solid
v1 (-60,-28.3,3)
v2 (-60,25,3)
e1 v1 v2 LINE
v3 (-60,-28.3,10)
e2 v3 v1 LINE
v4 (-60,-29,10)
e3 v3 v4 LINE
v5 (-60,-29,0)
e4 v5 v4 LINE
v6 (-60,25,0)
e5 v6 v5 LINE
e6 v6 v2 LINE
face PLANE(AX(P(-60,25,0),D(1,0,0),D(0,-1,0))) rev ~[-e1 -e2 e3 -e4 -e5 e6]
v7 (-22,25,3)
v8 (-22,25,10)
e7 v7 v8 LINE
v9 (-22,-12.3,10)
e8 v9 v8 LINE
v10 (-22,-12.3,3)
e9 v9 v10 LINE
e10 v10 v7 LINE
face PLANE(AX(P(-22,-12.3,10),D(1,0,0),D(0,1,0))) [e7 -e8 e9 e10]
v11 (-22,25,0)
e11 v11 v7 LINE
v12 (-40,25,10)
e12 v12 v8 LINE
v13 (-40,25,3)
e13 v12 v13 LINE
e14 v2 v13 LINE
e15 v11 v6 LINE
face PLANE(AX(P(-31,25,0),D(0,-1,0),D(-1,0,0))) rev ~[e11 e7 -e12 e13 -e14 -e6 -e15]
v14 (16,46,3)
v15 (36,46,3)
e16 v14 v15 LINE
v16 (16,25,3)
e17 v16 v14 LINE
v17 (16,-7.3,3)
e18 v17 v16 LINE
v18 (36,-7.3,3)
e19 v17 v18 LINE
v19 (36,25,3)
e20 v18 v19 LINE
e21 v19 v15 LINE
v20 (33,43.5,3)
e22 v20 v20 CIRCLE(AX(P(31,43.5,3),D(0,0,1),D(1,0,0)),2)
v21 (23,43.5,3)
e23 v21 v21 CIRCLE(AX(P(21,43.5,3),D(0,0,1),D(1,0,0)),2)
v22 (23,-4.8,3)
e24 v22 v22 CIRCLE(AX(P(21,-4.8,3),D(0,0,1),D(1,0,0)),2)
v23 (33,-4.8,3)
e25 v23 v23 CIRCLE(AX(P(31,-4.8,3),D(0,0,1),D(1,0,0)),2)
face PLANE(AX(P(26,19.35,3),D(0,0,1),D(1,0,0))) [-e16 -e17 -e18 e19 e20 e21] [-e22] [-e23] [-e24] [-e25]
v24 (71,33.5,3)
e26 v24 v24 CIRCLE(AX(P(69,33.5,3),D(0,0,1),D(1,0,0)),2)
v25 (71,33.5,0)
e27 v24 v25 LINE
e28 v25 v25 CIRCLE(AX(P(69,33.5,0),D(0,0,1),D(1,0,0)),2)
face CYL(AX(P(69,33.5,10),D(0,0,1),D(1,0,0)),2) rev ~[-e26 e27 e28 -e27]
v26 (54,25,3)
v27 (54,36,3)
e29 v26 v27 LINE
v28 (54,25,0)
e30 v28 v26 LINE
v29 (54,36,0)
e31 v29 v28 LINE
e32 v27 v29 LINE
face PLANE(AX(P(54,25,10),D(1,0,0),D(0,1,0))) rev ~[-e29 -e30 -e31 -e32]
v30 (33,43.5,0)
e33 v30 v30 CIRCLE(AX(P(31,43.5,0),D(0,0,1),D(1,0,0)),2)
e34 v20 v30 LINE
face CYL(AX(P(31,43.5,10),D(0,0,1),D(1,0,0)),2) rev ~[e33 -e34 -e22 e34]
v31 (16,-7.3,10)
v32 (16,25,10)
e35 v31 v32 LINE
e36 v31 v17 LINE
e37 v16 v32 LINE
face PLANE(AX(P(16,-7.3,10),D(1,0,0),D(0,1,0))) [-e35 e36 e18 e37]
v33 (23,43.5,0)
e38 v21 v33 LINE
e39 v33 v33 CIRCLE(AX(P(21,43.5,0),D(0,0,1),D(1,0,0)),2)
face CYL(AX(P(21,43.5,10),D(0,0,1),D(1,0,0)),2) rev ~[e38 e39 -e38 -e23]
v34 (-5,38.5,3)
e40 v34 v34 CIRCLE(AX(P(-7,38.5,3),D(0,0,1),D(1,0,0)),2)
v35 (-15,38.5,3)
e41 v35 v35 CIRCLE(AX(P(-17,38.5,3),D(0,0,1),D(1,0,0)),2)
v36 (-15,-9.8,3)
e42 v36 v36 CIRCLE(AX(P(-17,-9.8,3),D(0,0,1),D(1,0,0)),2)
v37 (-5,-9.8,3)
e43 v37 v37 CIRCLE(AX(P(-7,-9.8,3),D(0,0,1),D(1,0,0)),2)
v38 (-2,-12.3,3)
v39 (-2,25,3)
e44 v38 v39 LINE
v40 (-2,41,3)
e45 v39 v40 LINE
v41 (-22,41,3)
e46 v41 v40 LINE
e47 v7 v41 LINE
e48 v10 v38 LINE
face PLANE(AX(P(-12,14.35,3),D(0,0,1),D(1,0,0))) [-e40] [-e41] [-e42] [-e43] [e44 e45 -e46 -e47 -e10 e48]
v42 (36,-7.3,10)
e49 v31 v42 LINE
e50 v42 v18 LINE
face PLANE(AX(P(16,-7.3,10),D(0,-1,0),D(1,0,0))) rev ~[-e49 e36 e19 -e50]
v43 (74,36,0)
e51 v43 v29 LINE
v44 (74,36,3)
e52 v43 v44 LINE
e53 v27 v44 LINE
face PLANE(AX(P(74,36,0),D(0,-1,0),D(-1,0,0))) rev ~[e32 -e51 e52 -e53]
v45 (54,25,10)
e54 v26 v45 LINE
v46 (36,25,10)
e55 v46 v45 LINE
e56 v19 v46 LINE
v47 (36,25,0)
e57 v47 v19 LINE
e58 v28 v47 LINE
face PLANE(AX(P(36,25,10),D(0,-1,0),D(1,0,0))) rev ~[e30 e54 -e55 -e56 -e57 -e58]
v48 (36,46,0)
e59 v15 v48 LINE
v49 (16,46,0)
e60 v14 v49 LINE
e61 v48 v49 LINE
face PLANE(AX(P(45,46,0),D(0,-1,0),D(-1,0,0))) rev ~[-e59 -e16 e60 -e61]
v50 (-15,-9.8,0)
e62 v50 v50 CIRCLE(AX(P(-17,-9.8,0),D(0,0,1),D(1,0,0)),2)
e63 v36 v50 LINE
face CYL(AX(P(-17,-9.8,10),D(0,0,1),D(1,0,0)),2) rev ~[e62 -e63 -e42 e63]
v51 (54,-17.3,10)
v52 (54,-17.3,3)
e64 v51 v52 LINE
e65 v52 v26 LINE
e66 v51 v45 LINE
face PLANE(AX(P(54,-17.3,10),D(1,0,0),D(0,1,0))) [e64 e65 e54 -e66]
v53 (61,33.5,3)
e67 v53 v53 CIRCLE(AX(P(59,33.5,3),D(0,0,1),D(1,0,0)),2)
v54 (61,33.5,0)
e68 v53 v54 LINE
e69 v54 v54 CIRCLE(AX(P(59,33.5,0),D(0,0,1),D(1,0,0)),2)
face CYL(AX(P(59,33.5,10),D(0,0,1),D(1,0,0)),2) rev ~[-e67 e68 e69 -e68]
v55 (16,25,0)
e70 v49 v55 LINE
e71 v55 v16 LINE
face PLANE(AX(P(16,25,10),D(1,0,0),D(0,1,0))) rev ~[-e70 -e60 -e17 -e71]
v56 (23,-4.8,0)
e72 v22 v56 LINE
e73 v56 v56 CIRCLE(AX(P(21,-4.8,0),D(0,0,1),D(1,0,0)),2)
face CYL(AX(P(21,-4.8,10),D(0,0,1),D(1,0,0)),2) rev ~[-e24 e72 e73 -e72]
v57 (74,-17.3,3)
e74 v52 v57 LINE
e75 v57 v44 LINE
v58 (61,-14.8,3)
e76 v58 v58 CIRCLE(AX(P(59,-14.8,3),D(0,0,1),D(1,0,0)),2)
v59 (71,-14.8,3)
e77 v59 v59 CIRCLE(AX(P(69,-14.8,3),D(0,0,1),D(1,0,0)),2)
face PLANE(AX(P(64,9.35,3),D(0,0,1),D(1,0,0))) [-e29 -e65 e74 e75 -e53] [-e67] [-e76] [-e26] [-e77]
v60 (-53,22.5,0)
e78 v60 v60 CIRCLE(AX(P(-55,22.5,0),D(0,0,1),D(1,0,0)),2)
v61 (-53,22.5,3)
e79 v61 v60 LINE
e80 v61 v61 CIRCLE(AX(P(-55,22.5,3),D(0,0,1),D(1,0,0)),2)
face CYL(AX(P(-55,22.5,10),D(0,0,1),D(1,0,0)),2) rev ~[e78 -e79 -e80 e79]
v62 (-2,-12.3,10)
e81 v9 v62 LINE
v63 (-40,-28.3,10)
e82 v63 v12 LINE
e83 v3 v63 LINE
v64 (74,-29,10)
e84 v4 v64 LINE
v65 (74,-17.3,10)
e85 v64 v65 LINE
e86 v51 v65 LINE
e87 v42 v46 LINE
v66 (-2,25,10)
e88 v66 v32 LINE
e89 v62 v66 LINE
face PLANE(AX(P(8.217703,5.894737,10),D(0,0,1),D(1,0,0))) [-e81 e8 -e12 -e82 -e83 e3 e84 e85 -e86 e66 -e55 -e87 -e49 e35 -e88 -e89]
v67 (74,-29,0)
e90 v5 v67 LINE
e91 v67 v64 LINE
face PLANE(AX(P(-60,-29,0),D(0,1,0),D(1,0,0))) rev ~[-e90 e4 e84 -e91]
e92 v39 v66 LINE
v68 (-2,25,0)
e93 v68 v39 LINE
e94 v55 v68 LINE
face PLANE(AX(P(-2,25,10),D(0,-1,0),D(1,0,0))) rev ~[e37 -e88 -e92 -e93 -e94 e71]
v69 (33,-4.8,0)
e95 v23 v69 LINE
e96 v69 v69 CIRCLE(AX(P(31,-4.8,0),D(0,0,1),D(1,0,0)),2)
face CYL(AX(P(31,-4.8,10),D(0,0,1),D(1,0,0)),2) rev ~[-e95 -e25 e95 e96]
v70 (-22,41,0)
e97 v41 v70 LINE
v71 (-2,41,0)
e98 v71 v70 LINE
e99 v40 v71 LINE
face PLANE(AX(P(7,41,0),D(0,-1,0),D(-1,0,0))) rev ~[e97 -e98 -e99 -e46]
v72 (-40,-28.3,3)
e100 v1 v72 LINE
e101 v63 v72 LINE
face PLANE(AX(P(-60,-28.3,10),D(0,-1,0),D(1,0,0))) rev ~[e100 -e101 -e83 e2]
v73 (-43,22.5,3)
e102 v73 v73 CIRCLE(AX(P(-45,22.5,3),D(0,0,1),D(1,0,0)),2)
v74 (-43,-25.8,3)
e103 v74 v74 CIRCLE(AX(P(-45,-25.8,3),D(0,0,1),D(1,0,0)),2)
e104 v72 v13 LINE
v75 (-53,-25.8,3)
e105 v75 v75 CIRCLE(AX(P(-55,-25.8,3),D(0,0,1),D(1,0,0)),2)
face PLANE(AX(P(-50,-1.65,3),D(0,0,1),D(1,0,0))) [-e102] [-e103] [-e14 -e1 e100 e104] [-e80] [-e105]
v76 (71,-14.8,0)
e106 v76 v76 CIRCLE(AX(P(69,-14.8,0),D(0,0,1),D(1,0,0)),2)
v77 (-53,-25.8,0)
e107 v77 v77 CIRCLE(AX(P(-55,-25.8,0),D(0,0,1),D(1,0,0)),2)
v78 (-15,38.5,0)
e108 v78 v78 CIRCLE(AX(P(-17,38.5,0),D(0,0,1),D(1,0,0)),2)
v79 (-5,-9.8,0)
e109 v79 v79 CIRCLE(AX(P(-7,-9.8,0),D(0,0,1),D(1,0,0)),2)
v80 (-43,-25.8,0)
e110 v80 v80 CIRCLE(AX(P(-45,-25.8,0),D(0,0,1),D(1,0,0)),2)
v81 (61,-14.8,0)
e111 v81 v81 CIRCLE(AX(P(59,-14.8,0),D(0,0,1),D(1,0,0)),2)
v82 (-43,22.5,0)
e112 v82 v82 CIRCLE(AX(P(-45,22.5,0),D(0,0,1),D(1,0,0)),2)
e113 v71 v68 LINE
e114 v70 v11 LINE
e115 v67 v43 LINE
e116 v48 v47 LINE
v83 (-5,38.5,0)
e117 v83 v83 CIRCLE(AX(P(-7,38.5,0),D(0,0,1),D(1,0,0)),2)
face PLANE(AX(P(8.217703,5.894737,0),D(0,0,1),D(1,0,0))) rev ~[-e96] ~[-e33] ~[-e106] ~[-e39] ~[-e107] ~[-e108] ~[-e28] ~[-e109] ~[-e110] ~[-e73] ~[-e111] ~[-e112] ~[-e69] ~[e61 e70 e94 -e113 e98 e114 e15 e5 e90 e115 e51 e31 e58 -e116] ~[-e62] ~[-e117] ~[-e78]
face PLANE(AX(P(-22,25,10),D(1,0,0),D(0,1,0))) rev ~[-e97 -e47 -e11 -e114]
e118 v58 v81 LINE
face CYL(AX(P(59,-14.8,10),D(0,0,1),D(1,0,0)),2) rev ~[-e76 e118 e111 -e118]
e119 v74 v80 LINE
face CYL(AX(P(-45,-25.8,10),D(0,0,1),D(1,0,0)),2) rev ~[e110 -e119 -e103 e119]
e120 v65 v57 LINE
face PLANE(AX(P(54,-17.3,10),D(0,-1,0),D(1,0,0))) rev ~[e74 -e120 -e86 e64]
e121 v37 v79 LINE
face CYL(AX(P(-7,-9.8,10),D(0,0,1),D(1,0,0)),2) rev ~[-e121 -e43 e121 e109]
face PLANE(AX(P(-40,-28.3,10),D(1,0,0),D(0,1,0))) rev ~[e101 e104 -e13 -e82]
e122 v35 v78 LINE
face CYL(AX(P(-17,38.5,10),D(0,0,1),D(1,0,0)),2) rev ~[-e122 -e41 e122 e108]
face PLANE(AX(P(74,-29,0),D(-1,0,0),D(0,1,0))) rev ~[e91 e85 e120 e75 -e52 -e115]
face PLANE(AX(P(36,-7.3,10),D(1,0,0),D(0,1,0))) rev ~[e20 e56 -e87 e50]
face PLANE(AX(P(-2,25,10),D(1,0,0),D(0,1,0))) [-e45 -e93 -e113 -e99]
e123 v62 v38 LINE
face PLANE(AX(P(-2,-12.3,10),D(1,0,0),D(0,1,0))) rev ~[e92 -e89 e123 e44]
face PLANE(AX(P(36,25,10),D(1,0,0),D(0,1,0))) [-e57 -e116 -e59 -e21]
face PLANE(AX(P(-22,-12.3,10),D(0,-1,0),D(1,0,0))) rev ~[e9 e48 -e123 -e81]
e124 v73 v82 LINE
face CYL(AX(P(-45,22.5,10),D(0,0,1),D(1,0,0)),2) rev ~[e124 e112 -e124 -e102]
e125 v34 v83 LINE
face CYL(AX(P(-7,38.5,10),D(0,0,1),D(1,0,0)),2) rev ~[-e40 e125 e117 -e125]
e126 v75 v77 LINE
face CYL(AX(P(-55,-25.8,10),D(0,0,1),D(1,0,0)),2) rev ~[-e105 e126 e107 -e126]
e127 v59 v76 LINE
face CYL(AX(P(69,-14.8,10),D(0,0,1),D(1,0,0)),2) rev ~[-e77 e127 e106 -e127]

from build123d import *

# Parameters (mm, degrees)
BOSS_EXTRUDE1_DEPTH = 10
CUT_EXTRUDE1_REACH  = 89.704
SKETCH3_R           = 2
SKETCH3_11_W        = 20
SKETCH3_11_H        = 53.3
SKETCH3_11_R        = 2
CUT_EXTRUDE2_DEPTH  = 7
CUT_EXTRUDE3_REACH  = 89.704
SKETCH4_W           = 9
SKETCH4_H           = 16.003442502
SKETCH4_W_2         = 18
SKETCH4_H_2         = 21
SKETCH4_H_3         = 21.24342545


with BuildPart() as part:
    # Sketch1 → Boss-Extrude1 (new body)
    with BuildSketch(Plane.XY):
        Polygon((-31, 25), (-60, 25), (-60, -29), (74, -29), (74, 36), (45, 36), (45, 46), (7, 46), (7, 41), (-31, 41), align=None)
    extrude(amount=BOSS_EXTRUDE1_DEPTH)

    # Sketch3 → Cut-Extrude1 (cut, up to next)
    with BuildSketch(Plane.XY.offset(10), mode=Mode.PRIVATE) as cut_extrude1_sk1:
        with Locations((-55, 22.5)):
            Circle(SKETCH3_R)
    cut_extrude1_tool1 = extrude(cut_extrude1_sk1.sketch, amount=-CUT_EXTRUDE1_REACH, mode=Mode.PRIVATE) & part.part
    # Sketch3 → Cut-Extrude1 (cut, up to next)
    with BuildSketch(Plane.XY.offset(10), mode=Mode.PRIVATE) as cut_extrude1_sk2:
        with Locations((-17, 38.5)):
            Circle(SKETCH3_R)
    cut_extrude1_tool2 = extrude(cut_extrude1_sk2.sketch, amount=-CUT_EXTRUDE1_REACH, mode=Mode.PRIVATE) & part.part
    # Sketch3 → Cut-Extrude1 (cut, up to next)
    with BuildSketch(Plane.XY.offset(10), mode=Mode.PRIVATE) as cut_extrude1_sk3:
        with Locations((21, 43.5)):
            Circle(SKETCH3_R)
    cut_extrude1_tool3 = extrude(cut_extrude1_sk3.sketch, amount=-CUT_EXTRUDE1_REACH, mode=Mode.PRIVATE) & part.part
    # Sketch3 → Cut-Extrude1 (cut, up to next)
    with BuildSketch(Plane.XY.offset(10), mode=Mode.PRIVATE) as cut_extrude1_sk4:
        with Locations((59, 33.5)):
            Circle(SKETCH3_R)
    cut_extrude1_tool4 = extrude(cut_extrude1_sk4.sketch, amount=-CUT_EXTRUDE1_REACH, mode=Mode.PRIVATE) & part.part
    # Sketch3 → Cut-Extrude1 (cut, up to next)
    with BuildSketch(Plane.XY.offset(10), mode=Mode.PRIVATE) as cut_extrude1_sk5:
        with Locations((-45, 22.5)):
            Circle(SKETCH3_R)
    cut_extrude1_tool5 = extrude(cut_extrude1_sk5.sketch, amount=-CUT_EXTRUDE1_REACH, mode=Mode.PRIVATE) & part.part
    # Sketch3 → Cut-Extrude1 (cut, up to next)
    with BuildSketch(Plane.XY.offset(10), mode=Mode.PRIVATE) as cut_extrude1_sk6:
        with Locations((-45, -25.8)):
            Circle(SKETCH3_R)
    cut_extrude1_tool6 = extrude(cut_extrude1_sk6.sketch, amount=-CUT_EXTRUDE1_REACH, mode=Mode.PRIVATE) & part.part
    # Sketch3 → Cut-Extrude1 (cut, up to next)
    with BuildSketch(Plane.XY.offset(10), mode=Mode.PRIVATE) as cut_extrude1_sk7:
        with Locations((-55, -25.8)):
            Circle(SKETCH3_R)
    cut_extrude1_tool7 = extrude(cut_extrude1_sk7.sketch, amount=-CUT_EXTRUDE1_REACH, mode=Mode.PRIVATE) & part.part
    # Sketch3 → Cut-Extrude1 (cut, up to next)
    with BuildSketch(Plane.XY.offset(10), mode=Mode.PRIVATE) as cut_extrude1_sk8:
        with Locations((-7, 38.5)):
            Circle(SKETCH3_R)
    cut_extrude1_tool8 = extrude(cut_extrude1_sk8.sketch, amount=-CUT_EXTRUDE1_REACH, mode=Mode.PRIVATE) & part.part
    # Sketch3 → Cut-Extrude1 (cut, up to next)
    with BuildSketch(Plane.XY.offset(10), mode=Mode.PRIVATE) as cut_extrude1_sk9:
        with Locations((-7, -9.8)):
            Circle(SKETCH3_R)
    cut_extrude1_tool9 = extrude(cut_extrude1_sk9.sketch, amount=-CUT_EXTRUDE1_REACH, mode=Mode.PRIVATE) & part.part
    # Sketch3 → Cut-Extrude1 (cut, up to next)
    with BuildSketch(Plane.XY.offset(10), mode=Mode.PRIVATE) as cut_extrude1_sk10:
        with Locations((-17, -9.8)):
            Circle(SKETCH3_R)
    cut_extrude1_tool10 = extrude(cut_extrude1_sk10.sketch, amount=-CUT_EXTRUDE1_REACH, mode=Mode.PRIVATE) & part.part
    # Sketch3 → Cut-Extrude1 (cut, up to next)
    with BuildSketch(Plane.XY.offset(10), mode=Mode.PRIVATE) as cut_extrude1_sk11:
        with Locations((31, 43.5)):
            Circle(SKETCH3_R)
    cut_extrude1_tool11 = extrude(cut_extrude1_sk11.sketch, amount=-CUT_EXTRUDE1_REACH, mode=Mode.PRIVATE) & part.part
    # Sketch3 → Cut-Extrude1 (cut, up to next)
    with BuildSketch(Plane.XY.offset(10), mode=Mode.PRIVATE) as cut_extrude1_sk12:
        with Locations((31, -4.8)):
            Circle(SKETCH3_R)
    cut_extrude1_tool12 = extrude(cut_extrude1_sk12.sketch, amount=-CUT_EXTRUDE1_REACH, mode=Mode.PRIVATE) & part.part
    # Sketch3 → Cut-Extrude1 (cut, up to next)
    with BuildSketch(Plane.XY.offset(10), mode=Mode.PRIVATE) as cut_extrude1_sk13:
        with Locations((21, -4.8)):
            Circle(SKETCH3_R)
    cut_extrude1_tool13 = extrude(cut_extrude1_sk13.sketch, amount=-CUT_EXTRUDE1_REACH, mode=Mode.PRIVATE) & part.part
    # Sketch3 → Cut-Extrude1 (cut, up to next)
    with BuildSketch(Plane.XY.offset(10), mode=Mode.PRIVATE) as cut_extrude1_sk14:
        with Locations((69, 33.5)):
            Circle(SKETCH3_R)
    cut_extrude1_tool14 = extrude(cut_extrude1_sk14.sketch, amount=-CUT_EXTRUDE1_REACH, mode=Mode.PRIVATE) & part.part
    # Sketch3 → Cut-Extrude1 (cut, up to next)
    with BuildSketch(Plane.XY.offset(10), mode=Mode.PRIVATE) as cut_extrude1_sk15:
        with Locations((69, -14.8)):
            Circle(SKETCH3_R)
    cut_extrude1_tool15 = extrude(cut_extrude1_sk15.sketch, amount=-CUT_EXTRUDE1_REACH, mode=Mode.PRIVATE) & part.part
    # Sketch3 → Cut-Extrude1 (cut, up to next)
    with BuildSketch(Plane.XY.offset(10), mode=Mode.PRIVATE) as cut_extrude1_sk16:
        with Locations((59, -14.8)):
            Circle(SKETCH3_R)
    cut_extrude1_tool16 = extrude(cut_extrude1_sk16.sketch, amount=-CUT_EXTRUDE1_REACH, mode=Mode.PRIVATE) & part.part
    add(cut_extrude1_tool1.solids().sort_by_distance((-55, 22.5, 10))[0], mode=Mode.SUBTRACT)
    add(cut_extrude1_tool2.solids().sort_by_distance((-17, 38.5, 10))[0], mode=Mode.SUBTRACT)
    add(cut_extrude1_tool3.solids().sort_by_distance((21, 43.5, 10))[0], mode=Mode.SUBTRACT)
    add(cut_extrude1_tool4.solids().sort_by_distance((59, 33.5, 10))[0], mode=Mode.SUBTRACT)
    add(cut_extrude1_tool5.solids().sort_by_distance((-45, 22.5, 10))[0], mode=Mode.SUBTRACT)
    add(cut_extrude1_tool6.solids().sort_by_distance((-45, -25.8, 10))[0], mode=Mode.SUBTRACT)
    add(cut_extrude1_tool7.solids().sort_by_distance((-55, -25.8, 10))[0], mode=Mode.SUBTRACT)
    add(cut_extrude1_tool8.solids().sort_by_distance((-7, 38.5, 10))[0], mode=Mode.SUBTRACT)
    add(cut_extrude1_tool9.solids().sort_by_distance((-7, -9.8, 10))[0], mode=Mode.SUBTRACT)
    add(cut_extrude1_tool10.solids().sort_by_distance((-17, -9.8, 10))[0], mode=Mode.SUBTRACT)
    add(cut_extrude1_tool11.solids().sort_by_distance((31, 43.5, 10))[0], mode=Mode.SUBTRACT)
    add(cut_extrude1_tool12.solids().sort_by_distance((31, -4.8, 10))[0], mode=Mode.SUBTRACT)
    add(cut_extrude1_tool13.solids().sort_by_distance((21, -4.8, 10))[0], mode=Mode.SUBTRACT)
    add(cut_extrude1_tool14.solids().sort_by_distance((69, 33.5, 10))[0], mode=Mode.SUBTRACT)
    add(cut_extrude1_tool15.solids().sort_by_distance((69, -14.8, 10))[0], mode=Mode.SUBTRACT)
    add(cut_extrude1_tool16.solids().sort_by_distance((59, -14.8, 10))[0], mode=Mode.SUBTRACT)

    # Sketch3<11> → Cut-Extrude2 (cut)
    # profile 1 of 4: a face of its own
    with BuildSketch(Plane.XY.offset(10)):
        with Locations((-50, -1.65)):
            Rectangle(SKETCH3_11_W, SKETCH3_11_H)
        with Locations((-55, 22.5)):
            Circle(SKETCH3_11_R, mode=Mode.SUBTRACT)
        with Locations((-45, 22.5)):
            Circle(SKETCH3_11_R, mode=Mode.SUBTRACT)
        with Locations((-55, -25.8)):
            Circle(SKETCH3_11_R, mode=Mode.SUBTRACT)
        with Locations((-45, -25.8)):
            Circle(SKETCH3_11_R, mode=Mode.SUBTRACT)
    # profile 2 of 4: a face of its own
    with BuildSketch(Plane.XY.offset(10)):
        with Locations((-12, 14.35)):
            Rectangle(SKETCH3_11_W, SKETCH3_11_H)
        with Locations((-17, 38.5)):
            Circle(SKETCH3_11_R, mode=Mode.SUBTRACT)
        with Locations((-17, -9.8)):
            Circle(SKETCH3_11_R, mode=Mode.SUBTRACT)
        with Locations((-7, 38.5)):
            Circle(SKETCH3_11_R, mode=Mode.SUBTRACT)
        with Locations((-7, -9.8)):
            Circle(SKETCH3_11_R, mode=Mode.SUBTRACT)
    # profile 3 of 4: a face of its own
    with BuildSketch(Plane.XY.offset(10)):
        with Locations((26, 19.35)):
            Rectangle(SKETCH3_11_W, SKETCH3_11_H)
        with Locations((21, 43.5)):
            Circle(SKETCH3_11_R, mode=Mode.SUBTRACT)
        with Locations((21, -4.8)):
            Circle(SKETCH3_11_R, mode=Mode.SUBTRACT)
        with Locations((31, 43.5)):
            Circle(SKETCH3_11_R, mode=Mode.SUBTRACT)
        with Locations((31, -4.8)):
            Circle(SKETCH3_11_R, mode=Mode.SUBTRACT)
    # profile 4 of 4: a face of its own
    with BuildSketch(Plane.XY.offset(10)):
        with Locations((64, 9.35)):
            Rectangle(SKETCH3_11_W, SKETCH3_11_H)
        with Locations((59, 33.5)):
            Circle(SKETCH3_11_R, mode=Mode.SUBTRACT)
        with Locations((59, -14.8)):
            Circle(SKETCH3_11_R, mode=Mode.SUBTRACT)
        with Locations((69, 33.5)):
            Circle(SKETCH3_11_R, mode=Mode.SUBTRACT)
        with Locations((69, -14.8)):
            Circle(SKETCH3_11_R, mode=Mode.SUBTRACT)
    extrude(amount=-CUT_EXTRUDE2_DEPTH, mode=Mode.SUBTRACT)

    # Sketch4 → Cut-Extrude3 (cut, up to next)
    with BuildSketch(Plane.XY.offset(10), mode=Mode.PRIVATE) as cut_extrude3_sk1:
        with Locations((-26.5, 33.001721251)):
            Rectangle(SKETCH4_W, SKETCH4_H)
    cut_extrude3_tool1 = extrude(cut_extrude3_sk1.sketch, amount=-CUT_EXTRUDE3_REACH, mode=Mode.PRIVATE) & part.part
    # Sketch4 → Cut-Extrude3 (cut, up to next)
    with BuildSketch(Plane.XY.offset(10), mode=Mode.PRIVATE) as cut_extrude3_sk2:
        with Locations((7, 35.5)):
            Rectangle(SKETCH4_W_2, SKETCH4_H_2)
    cut_extrude3_tool2 = extrude(cut_extrude3_sk2.sketch, amount=-CUT_EXTRUDE3_REACH, mode=Mode.PRIVATE) & part.part
    # Sketch4 → Cut-Extrude3 (cut, up to next)
    with BuildSketch(Plane.XY.offset(10), mode=Mode.PRIVATE) as cut_extrude3_sk3:
        with Locations((45, 35.621712725)):
            Rectangle(SKETCH4_W_2, SKETCH4_H_3)
    cut_extrude3_tool3 = extrude(cut_extrude3_sk3.sketch, amount=-CUT_EXTRUDE3_REACH, mode=Mode.PRIVATE) & part.part
    add(cut_extrude3_tool1.solids().sort_by_distance((-26.5, 33.001721, 10))[0], mode=Mode.SUBTRACT)
    add(cut_extrude3_tool2.solids().sort_by_distance((7, 35.5, 10))[0], mode=Mode.SUBTRACT)
    add(cut_extrude3_tool3.solids().sort_by_distance((45, 35.621713, 10))[0], mode=Mode.SUBTRACT)


solid = part.part
